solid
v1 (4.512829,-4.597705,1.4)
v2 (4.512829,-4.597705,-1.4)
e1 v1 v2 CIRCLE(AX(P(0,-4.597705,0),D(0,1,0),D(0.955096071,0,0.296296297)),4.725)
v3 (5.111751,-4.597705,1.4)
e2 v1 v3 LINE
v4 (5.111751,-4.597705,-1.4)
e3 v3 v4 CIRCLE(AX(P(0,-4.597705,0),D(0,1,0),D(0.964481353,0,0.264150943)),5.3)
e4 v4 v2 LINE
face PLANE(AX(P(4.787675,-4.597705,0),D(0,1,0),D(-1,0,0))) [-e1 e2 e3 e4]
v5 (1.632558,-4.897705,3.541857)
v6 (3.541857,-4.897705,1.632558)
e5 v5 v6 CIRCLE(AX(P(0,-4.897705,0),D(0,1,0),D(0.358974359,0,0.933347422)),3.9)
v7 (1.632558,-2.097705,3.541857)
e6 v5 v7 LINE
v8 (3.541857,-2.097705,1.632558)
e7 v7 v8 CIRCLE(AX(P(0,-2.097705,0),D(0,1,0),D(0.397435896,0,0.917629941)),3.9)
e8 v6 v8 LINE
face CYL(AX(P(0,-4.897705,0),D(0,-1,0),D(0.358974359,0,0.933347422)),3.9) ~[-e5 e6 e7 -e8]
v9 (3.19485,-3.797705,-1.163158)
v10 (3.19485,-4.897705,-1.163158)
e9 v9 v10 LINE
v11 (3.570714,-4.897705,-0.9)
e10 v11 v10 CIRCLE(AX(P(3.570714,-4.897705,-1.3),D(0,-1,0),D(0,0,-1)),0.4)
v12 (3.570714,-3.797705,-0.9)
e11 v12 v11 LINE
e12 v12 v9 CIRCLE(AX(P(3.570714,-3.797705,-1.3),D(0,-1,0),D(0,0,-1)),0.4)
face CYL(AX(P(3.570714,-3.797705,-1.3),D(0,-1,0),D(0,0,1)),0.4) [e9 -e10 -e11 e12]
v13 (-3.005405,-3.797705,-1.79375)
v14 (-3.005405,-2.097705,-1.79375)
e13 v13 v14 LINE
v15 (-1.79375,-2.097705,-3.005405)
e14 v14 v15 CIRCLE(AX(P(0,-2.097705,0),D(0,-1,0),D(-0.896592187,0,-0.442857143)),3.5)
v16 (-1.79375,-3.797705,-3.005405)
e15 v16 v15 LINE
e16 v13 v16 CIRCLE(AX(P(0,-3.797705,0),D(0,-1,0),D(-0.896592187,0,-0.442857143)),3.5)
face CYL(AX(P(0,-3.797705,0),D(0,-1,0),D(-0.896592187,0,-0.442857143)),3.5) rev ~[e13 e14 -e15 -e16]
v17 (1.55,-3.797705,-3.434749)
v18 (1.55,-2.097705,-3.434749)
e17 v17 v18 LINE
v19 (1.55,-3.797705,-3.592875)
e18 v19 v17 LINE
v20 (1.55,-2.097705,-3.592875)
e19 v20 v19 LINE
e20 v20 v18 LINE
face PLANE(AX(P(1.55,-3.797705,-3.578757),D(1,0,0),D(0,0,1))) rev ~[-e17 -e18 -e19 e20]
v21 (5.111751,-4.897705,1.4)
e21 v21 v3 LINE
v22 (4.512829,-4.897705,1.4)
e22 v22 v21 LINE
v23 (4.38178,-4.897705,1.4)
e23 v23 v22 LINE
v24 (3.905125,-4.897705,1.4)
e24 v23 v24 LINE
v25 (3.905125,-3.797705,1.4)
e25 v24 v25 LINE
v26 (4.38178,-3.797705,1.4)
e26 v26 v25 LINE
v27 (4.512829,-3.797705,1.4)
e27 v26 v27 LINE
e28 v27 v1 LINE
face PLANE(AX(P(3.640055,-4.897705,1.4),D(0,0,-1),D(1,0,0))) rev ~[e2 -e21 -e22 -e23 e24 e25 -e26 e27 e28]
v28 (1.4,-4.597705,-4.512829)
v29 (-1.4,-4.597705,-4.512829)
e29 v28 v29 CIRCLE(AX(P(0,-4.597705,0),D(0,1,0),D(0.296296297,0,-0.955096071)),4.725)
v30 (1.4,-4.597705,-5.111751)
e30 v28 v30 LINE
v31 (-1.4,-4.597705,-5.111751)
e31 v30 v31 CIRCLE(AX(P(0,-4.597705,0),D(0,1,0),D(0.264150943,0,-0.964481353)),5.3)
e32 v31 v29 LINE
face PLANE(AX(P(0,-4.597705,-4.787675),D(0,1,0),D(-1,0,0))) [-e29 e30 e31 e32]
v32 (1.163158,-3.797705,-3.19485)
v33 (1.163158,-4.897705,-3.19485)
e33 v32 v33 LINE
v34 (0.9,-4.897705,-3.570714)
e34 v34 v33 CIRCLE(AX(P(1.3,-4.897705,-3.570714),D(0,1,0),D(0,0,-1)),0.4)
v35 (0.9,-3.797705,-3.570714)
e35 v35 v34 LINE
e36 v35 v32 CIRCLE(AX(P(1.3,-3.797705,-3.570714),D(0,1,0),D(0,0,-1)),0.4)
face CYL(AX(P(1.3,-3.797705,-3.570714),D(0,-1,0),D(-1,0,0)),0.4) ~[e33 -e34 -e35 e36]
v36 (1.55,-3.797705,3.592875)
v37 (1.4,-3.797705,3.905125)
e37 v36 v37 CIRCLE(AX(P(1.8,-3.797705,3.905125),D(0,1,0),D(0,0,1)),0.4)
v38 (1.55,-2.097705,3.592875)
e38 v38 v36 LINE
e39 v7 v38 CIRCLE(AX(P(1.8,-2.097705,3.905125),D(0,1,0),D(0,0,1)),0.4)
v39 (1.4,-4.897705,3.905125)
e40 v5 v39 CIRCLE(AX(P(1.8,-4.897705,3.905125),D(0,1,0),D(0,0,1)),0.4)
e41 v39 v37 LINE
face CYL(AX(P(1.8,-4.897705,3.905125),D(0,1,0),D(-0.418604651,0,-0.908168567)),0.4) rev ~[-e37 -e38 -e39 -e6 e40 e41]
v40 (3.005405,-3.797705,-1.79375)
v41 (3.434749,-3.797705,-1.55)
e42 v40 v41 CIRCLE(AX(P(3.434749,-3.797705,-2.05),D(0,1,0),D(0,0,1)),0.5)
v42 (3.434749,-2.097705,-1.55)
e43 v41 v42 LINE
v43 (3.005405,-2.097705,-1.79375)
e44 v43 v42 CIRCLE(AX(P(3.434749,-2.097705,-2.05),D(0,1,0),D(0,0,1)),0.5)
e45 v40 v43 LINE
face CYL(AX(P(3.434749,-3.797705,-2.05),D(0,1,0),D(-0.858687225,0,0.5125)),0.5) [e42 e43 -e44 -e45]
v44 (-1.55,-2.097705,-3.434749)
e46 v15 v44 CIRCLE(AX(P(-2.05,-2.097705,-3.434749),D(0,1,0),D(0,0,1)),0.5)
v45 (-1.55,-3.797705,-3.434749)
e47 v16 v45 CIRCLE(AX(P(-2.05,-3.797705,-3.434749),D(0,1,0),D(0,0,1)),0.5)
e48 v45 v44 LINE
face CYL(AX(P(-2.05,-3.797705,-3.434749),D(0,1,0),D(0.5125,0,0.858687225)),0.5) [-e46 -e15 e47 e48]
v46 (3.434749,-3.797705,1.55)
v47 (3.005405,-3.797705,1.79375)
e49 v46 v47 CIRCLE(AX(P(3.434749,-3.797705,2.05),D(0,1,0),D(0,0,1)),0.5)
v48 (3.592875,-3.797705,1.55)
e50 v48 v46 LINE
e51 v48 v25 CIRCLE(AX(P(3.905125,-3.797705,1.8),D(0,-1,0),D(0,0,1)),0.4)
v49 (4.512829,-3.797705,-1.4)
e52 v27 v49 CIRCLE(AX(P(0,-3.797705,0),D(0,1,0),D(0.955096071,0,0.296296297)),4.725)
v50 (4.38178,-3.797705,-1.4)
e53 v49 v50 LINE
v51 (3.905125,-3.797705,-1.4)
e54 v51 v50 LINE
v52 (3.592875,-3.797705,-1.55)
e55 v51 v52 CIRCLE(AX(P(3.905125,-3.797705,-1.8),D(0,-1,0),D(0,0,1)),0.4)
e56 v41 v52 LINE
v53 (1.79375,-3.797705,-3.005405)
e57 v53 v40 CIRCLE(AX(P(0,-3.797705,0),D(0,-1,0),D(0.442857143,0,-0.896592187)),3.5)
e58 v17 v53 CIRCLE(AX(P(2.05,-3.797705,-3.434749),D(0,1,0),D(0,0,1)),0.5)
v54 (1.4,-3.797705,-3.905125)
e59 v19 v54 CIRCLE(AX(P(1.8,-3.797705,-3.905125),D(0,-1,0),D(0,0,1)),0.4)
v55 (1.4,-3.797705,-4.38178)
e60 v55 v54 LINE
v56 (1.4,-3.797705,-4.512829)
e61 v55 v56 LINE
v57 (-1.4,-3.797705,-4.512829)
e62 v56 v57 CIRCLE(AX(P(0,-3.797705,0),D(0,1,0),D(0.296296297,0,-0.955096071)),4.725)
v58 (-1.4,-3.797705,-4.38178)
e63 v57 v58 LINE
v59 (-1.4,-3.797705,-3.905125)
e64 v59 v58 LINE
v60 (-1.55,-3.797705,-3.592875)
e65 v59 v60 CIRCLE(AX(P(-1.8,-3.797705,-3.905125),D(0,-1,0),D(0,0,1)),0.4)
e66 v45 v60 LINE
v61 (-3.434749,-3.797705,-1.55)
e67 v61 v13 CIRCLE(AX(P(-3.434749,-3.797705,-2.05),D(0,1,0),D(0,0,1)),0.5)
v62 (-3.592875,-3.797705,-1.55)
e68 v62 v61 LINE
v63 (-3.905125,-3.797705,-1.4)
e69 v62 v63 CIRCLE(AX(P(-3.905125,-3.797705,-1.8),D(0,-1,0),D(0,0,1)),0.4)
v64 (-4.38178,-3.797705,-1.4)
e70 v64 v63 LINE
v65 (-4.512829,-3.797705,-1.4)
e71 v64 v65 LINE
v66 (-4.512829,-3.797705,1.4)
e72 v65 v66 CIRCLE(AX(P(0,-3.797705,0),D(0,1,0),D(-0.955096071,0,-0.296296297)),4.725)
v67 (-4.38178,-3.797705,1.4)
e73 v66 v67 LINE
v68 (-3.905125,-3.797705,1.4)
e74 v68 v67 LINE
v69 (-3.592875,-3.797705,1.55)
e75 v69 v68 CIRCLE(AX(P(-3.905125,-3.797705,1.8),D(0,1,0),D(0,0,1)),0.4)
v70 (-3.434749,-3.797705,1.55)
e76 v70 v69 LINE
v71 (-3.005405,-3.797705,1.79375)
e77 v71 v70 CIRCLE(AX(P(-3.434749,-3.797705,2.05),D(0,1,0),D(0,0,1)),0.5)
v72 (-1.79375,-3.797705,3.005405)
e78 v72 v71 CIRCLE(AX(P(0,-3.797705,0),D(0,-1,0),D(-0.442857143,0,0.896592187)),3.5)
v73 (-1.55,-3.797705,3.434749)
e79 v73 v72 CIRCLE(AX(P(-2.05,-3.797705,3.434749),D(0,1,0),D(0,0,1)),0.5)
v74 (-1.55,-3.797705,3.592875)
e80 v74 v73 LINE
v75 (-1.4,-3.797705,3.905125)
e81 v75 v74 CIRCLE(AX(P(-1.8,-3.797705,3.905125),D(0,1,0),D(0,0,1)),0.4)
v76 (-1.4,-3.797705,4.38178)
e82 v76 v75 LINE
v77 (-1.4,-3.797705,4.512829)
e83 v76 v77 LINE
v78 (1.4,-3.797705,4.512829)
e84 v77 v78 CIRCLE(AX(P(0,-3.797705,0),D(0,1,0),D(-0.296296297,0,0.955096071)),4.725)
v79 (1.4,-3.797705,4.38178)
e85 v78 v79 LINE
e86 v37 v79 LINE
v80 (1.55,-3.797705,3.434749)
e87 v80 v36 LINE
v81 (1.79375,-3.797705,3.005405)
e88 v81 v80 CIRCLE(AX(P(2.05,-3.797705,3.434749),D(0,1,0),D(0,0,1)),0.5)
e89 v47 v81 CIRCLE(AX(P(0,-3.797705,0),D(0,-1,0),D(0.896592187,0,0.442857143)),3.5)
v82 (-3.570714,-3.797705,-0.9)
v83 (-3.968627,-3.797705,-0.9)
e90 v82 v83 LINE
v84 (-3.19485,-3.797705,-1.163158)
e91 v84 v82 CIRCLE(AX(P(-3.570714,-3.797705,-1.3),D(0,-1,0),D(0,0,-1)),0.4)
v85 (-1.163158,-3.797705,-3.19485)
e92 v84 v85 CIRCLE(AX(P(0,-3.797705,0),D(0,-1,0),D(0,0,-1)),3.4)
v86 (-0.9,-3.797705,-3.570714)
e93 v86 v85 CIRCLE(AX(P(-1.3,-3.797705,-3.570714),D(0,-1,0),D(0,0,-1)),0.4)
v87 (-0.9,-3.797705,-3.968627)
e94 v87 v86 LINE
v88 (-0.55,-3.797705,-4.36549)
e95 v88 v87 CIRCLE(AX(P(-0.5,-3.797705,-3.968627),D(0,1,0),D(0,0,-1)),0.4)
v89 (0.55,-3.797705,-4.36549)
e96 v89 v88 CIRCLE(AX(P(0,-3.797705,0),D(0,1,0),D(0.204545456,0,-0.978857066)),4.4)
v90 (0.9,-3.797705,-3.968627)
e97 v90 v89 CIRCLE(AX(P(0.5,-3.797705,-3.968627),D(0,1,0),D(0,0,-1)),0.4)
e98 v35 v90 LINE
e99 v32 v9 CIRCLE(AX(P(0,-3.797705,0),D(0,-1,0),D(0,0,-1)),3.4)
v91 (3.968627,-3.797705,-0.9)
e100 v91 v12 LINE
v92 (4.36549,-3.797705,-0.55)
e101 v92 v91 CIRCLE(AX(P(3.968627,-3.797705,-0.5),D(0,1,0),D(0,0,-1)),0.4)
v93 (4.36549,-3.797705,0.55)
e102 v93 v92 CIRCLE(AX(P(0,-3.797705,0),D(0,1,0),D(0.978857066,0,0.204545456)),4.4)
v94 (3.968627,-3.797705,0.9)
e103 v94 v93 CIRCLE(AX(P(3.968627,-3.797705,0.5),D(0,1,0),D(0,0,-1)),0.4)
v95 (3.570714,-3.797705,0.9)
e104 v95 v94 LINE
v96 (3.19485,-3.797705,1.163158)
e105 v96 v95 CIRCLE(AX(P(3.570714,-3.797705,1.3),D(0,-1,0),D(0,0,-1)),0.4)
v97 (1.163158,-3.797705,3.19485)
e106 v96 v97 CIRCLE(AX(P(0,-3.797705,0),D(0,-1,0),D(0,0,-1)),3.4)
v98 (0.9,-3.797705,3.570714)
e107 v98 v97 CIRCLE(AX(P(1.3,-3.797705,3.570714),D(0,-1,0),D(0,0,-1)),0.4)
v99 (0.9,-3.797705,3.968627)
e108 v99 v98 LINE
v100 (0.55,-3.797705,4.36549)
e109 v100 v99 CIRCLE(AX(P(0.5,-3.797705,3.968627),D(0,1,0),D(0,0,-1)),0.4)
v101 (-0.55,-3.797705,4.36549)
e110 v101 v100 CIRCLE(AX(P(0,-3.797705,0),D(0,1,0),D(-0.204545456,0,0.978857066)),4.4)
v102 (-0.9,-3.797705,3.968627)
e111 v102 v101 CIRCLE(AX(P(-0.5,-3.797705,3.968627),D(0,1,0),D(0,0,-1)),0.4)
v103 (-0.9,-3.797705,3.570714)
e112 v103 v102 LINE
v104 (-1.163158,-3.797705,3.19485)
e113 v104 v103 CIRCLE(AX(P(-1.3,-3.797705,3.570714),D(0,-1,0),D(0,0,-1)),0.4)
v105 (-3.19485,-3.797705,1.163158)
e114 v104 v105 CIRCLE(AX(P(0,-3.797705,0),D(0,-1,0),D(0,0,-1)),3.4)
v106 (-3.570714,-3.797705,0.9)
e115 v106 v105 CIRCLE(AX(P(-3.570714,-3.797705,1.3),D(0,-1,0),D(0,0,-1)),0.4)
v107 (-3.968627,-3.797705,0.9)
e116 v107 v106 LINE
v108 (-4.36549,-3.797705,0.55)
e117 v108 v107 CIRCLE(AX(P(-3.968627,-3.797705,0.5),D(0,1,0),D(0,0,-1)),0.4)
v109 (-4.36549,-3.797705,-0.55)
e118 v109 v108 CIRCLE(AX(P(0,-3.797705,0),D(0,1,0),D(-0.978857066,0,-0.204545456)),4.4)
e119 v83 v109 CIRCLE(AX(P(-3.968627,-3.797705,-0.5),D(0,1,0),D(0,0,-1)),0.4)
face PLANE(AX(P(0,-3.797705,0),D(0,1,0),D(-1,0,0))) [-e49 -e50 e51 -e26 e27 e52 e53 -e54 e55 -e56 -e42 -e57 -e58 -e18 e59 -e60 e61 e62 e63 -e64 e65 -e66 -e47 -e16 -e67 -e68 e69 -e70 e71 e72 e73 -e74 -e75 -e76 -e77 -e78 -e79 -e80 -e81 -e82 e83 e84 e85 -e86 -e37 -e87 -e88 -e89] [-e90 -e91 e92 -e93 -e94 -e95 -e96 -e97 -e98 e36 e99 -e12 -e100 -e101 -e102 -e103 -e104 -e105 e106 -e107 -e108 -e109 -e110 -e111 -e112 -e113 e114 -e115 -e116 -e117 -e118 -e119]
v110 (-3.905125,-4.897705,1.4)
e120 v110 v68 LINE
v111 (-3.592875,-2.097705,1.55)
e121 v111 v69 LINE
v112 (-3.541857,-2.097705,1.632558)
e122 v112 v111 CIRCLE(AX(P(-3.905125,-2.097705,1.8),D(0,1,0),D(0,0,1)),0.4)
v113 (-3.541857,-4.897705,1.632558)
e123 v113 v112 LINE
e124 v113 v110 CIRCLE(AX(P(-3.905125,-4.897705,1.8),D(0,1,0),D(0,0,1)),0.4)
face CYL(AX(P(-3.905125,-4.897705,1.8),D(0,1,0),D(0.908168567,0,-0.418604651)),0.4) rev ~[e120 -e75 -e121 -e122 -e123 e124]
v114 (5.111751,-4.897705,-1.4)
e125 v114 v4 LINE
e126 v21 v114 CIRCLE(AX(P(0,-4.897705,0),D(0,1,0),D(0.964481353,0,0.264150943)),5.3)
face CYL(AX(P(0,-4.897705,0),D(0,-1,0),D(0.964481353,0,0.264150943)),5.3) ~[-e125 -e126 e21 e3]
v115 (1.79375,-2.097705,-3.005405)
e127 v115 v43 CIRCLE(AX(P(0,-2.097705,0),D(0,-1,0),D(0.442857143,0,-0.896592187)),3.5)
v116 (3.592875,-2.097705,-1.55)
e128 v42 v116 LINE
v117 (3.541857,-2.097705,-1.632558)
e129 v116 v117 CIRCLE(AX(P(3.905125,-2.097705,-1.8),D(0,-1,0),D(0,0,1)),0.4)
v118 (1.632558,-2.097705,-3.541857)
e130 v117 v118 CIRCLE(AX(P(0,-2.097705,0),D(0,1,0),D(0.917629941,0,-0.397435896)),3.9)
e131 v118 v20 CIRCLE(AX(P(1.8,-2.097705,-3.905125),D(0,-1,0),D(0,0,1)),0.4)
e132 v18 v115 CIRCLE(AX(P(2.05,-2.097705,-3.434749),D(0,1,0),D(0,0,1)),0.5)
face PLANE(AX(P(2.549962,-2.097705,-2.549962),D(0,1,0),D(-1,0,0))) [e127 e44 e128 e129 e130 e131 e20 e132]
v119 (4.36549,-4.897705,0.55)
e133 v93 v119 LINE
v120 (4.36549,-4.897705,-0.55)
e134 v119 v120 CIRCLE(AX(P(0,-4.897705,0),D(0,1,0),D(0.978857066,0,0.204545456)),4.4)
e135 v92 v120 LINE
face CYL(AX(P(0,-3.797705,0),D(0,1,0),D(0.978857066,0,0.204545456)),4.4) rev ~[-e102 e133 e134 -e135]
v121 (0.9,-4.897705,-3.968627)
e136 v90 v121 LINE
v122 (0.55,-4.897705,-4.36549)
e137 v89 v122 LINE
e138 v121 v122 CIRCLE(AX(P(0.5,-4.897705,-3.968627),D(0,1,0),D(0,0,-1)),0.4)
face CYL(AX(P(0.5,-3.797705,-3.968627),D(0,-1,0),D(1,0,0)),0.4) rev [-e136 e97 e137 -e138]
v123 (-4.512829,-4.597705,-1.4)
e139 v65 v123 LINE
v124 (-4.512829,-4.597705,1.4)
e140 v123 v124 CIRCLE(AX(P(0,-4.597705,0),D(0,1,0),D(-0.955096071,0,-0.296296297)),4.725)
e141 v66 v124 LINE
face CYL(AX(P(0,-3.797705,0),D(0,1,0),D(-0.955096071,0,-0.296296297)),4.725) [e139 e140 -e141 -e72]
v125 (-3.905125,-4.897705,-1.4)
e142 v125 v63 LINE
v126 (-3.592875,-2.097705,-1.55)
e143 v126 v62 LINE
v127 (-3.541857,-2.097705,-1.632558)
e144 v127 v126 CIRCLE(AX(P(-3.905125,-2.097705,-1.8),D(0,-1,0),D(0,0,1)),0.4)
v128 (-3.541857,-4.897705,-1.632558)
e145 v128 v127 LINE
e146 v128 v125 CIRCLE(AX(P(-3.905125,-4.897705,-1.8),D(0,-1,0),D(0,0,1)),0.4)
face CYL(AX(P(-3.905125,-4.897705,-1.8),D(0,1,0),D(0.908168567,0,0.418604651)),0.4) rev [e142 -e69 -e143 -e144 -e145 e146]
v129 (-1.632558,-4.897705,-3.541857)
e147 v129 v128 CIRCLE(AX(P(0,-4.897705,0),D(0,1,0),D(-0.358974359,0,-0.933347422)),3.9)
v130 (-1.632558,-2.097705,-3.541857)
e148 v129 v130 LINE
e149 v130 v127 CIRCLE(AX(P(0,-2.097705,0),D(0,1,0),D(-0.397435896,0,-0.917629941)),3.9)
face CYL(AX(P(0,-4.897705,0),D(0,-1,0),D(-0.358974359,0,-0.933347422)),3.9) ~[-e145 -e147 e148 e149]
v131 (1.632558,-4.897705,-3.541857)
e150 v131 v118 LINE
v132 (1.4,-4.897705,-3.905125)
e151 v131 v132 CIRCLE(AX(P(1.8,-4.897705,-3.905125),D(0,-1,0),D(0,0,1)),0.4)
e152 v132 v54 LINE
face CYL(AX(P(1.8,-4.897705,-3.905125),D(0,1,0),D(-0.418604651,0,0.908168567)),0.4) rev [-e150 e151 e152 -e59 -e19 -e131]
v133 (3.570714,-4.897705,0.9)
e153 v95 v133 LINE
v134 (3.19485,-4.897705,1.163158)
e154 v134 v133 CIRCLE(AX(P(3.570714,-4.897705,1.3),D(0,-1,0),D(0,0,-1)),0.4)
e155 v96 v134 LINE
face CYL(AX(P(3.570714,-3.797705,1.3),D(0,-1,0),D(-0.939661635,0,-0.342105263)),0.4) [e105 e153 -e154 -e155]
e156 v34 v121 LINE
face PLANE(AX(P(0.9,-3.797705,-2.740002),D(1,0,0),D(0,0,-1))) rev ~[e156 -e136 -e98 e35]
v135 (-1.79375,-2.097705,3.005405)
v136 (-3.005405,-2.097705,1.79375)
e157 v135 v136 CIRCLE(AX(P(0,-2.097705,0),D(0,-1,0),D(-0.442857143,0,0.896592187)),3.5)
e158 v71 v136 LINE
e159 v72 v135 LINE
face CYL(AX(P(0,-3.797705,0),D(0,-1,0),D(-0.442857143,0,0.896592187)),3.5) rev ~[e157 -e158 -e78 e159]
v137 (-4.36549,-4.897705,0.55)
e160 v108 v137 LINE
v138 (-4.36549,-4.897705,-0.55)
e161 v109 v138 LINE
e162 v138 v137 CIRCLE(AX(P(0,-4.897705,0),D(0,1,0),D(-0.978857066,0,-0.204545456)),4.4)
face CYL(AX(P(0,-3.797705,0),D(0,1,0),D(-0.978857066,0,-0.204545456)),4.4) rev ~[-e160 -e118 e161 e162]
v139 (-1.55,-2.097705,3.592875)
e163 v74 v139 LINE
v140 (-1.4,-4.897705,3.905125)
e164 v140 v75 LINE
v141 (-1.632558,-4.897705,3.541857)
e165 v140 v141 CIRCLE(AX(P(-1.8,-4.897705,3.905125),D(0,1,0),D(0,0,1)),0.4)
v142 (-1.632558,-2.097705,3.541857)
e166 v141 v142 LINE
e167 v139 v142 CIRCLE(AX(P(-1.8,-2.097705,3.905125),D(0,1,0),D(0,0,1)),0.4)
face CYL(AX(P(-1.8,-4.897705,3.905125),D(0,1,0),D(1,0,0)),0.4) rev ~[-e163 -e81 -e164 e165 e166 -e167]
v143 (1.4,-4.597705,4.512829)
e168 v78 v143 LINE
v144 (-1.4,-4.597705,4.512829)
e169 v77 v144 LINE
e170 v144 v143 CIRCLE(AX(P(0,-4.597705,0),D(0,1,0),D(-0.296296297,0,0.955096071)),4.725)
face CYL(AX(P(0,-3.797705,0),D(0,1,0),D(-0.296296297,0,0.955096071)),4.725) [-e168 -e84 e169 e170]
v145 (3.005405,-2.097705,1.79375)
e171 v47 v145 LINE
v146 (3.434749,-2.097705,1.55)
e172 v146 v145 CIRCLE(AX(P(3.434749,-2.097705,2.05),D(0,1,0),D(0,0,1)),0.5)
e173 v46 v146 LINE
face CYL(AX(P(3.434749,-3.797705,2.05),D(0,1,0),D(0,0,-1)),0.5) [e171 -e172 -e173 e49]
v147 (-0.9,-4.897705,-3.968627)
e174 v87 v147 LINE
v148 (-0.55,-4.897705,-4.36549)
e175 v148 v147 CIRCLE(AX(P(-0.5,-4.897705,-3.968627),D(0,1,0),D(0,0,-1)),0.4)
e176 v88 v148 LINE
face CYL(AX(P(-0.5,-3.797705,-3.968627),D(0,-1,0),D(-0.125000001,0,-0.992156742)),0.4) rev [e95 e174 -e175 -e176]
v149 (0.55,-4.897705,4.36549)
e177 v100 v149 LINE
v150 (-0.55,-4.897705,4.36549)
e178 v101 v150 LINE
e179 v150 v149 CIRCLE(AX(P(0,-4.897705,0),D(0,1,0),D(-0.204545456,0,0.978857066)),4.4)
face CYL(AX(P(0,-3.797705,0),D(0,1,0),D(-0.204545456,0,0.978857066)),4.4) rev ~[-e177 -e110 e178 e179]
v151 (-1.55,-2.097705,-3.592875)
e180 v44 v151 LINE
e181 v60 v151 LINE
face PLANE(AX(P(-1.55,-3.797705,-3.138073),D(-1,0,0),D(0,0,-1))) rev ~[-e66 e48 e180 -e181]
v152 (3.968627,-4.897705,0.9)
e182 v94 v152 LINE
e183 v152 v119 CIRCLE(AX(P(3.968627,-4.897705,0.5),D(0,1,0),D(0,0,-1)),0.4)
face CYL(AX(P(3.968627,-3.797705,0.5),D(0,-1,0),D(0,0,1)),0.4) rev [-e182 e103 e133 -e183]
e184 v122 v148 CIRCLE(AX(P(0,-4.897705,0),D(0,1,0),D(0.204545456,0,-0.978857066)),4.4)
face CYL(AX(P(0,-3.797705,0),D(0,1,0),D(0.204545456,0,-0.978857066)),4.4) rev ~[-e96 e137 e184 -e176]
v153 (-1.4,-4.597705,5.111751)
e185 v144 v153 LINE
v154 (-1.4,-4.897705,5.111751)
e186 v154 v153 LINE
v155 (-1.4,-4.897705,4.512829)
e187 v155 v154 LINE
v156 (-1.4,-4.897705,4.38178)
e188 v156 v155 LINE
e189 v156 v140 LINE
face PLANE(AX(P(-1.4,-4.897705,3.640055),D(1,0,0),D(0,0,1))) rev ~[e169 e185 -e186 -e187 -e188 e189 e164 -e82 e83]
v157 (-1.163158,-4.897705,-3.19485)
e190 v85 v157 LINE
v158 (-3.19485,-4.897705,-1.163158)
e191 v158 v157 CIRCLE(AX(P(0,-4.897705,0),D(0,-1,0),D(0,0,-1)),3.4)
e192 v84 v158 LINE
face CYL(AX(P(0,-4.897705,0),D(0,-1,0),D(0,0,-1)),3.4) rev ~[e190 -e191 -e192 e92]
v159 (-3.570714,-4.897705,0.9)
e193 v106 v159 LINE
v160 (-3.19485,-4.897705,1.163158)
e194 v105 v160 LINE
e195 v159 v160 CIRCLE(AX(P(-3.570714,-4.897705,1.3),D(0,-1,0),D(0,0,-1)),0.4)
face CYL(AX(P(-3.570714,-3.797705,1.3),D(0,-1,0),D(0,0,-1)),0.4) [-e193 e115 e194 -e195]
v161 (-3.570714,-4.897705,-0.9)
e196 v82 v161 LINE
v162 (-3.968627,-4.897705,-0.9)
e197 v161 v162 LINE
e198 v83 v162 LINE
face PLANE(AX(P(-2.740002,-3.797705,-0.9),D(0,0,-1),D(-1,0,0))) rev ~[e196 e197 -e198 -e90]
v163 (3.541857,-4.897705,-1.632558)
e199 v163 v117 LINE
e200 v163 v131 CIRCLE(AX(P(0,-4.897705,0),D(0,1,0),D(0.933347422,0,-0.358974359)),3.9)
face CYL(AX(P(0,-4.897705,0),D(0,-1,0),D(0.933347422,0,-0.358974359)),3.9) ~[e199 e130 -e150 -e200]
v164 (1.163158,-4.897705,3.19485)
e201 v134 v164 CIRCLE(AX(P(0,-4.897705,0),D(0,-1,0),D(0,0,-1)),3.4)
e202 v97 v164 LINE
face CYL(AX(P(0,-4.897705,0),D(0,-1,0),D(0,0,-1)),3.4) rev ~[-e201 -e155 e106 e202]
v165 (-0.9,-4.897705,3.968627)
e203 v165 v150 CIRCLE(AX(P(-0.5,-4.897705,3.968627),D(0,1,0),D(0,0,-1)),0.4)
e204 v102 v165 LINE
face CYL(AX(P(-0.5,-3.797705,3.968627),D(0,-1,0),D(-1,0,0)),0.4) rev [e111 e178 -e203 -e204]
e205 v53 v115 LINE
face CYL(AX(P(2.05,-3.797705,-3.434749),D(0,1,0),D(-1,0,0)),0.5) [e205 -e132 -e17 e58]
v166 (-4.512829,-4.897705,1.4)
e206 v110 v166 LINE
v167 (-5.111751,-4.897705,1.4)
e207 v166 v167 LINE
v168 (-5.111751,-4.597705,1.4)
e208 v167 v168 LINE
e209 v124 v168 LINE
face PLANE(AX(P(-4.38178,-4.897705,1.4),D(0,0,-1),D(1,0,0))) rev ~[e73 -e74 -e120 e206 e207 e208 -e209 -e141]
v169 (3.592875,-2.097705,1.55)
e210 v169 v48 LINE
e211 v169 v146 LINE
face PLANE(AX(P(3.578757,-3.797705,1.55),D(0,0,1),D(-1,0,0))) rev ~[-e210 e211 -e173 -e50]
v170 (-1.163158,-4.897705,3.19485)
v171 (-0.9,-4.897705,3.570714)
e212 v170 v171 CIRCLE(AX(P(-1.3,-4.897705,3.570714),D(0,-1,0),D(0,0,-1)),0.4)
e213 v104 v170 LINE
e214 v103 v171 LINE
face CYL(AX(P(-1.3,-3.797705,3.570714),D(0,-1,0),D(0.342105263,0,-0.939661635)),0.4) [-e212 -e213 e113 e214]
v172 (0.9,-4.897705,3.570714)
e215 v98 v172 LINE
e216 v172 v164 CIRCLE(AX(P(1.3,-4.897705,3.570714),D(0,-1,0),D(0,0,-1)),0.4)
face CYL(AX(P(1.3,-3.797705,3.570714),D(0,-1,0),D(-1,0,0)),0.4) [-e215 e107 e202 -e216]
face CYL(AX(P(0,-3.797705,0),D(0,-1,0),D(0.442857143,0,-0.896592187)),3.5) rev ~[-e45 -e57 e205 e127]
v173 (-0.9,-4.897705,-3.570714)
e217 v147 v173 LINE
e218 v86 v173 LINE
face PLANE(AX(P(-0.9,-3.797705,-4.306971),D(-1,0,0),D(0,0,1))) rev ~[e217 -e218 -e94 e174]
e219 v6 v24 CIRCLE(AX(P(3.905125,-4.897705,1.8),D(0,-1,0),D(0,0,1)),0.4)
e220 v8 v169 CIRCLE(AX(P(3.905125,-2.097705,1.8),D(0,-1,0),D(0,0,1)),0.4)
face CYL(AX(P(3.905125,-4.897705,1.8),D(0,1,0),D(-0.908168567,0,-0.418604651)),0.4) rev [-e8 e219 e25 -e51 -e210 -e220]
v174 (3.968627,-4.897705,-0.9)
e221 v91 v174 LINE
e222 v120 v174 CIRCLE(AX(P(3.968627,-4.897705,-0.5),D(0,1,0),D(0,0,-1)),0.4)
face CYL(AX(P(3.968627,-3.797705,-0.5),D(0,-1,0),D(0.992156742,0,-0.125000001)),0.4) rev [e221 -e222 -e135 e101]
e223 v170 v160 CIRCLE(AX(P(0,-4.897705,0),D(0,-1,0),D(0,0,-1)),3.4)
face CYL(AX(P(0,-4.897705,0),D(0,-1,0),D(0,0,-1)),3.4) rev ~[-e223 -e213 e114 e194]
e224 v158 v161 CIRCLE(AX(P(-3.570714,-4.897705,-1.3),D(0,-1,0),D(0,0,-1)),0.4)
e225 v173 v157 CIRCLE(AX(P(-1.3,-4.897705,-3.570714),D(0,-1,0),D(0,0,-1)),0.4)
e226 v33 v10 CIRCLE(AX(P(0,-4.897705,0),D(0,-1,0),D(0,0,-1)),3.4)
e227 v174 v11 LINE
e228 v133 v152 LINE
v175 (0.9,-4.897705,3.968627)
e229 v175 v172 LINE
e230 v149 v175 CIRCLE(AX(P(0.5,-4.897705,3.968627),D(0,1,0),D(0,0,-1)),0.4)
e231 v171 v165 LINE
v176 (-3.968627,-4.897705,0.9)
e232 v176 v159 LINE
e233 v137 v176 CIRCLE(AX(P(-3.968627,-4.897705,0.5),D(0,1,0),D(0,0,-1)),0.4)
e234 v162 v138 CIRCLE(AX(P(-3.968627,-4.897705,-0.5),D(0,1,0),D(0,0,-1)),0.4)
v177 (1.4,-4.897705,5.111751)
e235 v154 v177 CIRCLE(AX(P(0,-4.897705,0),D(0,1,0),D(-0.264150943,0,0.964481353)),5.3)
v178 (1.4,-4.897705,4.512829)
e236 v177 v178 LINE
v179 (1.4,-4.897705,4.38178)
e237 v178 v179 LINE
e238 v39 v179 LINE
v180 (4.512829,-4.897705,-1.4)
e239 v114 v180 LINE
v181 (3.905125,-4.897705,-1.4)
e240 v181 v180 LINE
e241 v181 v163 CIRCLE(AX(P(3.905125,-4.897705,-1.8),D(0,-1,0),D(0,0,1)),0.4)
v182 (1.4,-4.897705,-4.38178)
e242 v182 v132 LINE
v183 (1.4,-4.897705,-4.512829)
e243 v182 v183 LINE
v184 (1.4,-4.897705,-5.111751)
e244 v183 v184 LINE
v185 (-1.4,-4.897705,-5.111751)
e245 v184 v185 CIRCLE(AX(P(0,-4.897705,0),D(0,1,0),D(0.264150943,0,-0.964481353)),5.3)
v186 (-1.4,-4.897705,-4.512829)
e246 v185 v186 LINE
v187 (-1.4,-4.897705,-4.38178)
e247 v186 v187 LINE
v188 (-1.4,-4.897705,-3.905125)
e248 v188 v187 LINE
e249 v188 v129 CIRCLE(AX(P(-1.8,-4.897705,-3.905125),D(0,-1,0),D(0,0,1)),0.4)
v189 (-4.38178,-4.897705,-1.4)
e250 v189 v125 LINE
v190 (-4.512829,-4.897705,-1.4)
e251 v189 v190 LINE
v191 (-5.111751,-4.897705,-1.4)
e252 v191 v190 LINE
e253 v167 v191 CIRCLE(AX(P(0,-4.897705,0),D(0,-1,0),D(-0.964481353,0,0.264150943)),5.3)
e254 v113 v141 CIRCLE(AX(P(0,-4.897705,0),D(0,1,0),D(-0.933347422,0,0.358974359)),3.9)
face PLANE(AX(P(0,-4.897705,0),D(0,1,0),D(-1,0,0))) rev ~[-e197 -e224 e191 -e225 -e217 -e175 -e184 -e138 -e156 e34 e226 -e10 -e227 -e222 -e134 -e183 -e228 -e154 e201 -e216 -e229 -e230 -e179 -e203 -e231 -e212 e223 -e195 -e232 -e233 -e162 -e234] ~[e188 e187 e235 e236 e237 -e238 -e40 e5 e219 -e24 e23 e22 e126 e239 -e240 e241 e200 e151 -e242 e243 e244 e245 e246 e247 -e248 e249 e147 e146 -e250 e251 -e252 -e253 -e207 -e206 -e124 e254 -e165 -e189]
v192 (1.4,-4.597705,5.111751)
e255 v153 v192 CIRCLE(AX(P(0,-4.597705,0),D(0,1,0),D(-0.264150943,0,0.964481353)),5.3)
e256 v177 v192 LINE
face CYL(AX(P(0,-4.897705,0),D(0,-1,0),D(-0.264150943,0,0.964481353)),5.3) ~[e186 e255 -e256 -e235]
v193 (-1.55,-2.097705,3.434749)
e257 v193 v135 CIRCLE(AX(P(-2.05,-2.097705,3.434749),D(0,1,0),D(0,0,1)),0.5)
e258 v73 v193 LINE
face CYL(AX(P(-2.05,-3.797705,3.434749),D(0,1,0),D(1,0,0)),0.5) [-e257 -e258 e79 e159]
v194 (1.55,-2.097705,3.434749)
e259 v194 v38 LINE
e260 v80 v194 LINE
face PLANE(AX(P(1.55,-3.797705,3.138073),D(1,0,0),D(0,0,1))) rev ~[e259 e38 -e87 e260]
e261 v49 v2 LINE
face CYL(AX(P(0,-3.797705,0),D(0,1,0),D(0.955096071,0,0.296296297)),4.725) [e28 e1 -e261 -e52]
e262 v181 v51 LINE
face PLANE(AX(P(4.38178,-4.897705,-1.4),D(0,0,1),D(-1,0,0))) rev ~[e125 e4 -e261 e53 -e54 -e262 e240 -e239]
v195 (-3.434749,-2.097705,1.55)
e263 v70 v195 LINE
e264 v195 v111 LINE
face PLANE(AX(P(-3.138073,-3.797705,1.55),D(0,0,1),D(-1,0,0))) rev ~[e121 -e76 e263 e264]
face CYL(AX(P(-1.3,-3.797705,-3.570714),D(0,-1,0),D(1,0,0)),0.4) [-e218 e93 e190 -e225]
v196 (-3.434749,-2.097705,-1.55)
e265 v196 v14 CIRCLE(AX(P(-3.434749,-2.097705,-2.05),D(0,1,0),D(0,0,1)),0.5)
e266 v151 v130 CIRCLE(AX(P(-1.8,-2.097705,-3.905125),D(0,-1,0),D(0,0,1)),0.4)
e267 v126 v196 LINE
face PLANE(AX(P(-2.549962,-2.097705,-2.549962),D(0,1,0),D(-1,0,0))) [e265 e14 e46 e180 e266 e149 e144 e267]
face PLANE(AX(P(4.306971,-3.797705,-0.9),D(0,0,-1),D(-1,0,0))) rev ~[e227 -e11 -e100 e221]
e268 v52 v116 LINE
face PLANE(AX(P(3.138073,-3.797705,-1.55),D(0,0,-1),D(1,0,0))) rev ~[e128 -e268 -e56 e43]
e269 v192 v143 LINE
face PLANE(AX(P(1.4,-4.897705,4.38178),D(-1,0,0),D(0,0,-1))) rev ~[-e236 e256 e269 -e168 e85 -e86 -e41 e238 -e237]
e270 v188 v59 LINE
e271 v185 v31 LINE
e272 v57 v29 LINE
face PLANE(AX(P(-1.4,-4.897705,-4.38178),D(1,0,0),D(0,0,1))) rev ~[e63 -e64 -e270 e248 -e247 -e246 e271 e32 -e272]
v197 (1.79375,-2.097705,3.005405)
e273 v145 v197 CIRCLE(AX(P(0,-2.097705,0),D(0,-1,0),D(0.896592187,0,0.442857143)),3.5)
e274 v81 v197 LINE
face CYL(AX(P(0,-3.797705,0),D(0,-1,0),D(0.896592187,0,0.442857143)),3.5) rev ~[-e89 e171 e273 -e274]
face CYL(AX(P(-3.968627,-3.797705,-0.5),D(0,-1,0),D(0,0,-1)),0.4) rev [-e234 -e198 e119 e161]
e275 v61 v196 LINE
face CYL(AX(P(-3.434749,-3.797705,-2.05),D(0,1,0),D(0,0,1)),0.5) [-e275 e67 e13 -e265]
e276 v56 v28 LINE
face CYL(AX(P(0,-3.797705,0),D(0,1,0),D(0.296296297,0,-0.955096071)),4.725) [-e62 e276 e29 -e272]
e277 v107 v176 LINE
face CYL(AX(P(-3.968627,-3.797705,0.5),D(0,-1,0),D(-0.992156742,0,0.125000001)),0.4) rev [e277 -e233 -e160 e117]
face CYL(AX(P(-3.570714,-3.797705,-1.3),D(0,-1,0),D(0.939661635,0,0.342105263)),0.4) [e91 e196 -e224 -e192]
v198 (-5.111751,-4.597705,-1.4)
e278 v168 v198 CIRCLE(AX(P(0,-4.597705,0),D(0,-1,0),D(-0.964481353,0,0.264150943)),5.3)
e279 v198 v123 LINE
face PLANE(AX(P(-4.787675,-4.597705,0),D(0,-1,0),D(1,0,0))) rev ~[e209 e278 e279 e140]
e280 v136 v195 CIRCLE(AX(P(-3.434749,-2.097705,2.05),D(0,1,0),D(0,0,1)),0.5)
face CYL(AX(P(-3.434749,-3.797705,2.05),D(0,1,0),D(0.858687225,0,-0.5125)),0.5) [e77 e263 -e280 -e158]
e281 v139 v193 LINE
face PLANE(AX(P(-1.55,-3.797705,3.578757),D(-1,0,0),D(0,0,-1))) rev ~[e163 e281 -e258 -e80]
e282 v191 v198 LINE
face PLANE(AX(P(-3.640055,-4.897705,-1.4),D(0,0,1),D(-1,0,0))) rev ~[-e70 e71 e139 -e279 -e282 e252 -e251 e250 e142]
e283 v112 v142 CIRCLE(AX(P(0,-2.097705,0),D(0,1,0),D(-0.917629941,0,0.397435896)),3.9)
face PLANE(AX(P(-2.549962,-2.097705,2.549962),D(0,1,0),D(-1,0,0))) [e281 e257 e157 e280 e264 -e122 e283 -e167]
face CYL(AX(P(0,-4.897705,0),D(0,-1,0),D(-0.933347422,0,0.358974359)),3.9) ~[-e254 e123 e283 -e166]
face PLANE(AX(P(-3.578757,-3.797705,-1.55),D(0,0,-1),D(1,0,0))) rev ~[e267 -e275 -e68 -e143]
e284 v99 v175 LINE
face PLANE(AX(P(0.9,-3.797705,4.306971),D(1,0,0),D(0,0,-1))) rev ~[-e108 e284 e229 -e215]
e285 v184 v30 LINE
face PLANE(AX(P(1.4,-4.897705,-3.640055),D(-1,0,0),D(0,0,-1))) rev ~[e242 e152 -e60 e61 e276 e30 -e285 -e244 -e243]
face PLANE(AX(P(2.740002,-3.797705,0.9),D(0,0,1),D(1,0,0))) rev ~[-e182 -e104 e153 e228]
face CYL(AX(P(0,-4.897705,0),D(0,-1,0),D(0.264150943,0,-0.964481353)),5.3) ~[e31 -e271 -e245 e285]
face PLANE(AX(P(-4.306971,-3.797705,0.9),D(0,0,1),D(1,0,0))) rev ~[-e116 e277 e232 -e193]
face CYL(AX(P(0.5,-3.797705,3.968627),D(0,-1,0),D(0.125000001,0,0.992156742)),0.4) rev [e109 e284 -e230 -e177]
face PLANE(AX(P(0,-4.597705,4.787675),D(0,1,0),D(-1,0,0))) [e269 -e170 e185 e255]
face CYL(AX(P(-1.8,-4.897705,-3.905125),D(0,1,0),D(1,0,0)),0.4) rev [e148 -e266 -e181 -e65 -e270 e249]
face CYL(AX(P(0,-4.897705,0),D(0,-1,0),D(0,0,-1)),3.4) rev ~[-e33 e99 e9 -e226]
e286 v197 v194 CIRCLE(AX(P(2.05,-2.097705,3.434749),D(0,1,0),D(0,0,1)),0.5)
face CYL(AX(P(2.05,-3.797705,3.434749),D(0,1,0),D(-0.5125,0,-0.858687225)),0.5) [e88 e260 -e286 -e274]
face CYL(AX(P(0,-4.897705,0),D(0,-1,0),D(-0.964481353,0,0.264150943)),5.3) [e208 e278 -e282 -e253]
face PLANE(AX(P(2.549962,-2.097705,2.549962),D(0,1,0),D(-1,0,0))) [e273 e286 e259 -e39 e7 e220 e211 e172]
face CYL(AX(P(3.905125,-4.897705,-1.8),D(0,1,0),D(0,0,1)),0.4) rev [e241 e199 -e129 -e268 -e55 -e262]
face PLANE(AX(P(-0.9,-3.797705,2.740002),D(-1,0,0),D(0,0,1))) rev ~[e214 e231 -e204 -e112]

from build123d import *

# Parameters (mm, degrees)
SKETCH_1_R          = 3.4
EXTRUDE_1_DEPTH     = 1.1
EXTRUDE_START       = -0.362295
EXTRUDE_2_DEPTH     = 1.1
EXTRUDE_START_2     = -1.1
EXTRUDE_3_DEPTH     = 0.3
EXTRUDE_START_3     = 1.1
EXTRUDE_4_DEPTH     = 1.7
FILLET_2_R          = 0.5
FILLET_3_R          = 0.4
CUT_EXTRUDE_1_DEPTH = 8.685701009
FILLET_5_R          = 0.4


with BuildPart() as part:
    # 草图1 → 凸台-拉伸1 (new body)
    with BuildSketch(Plane.XZ.offset(4.897705057)):
        with BuildLine():
            Line((1.4, 4.38178046), (1.4, 3.640054945))
            ThreePointArc((1.4, 3.640054945), (2.757716447, 2.757716447), (3.640054945, 1.4))
            Line((3.640054945, 1.4), (4.38178046, 1.4))
            ThreePointArc((4.38178046, 1.4), (4.6, 0), (4.38178046, -1.4))
            Line((4.38178046, -1.4), (3.640054945, -1.4))
            ThreePointArc((3.640054945, -1.4), (2.757716447, -2.757716447), (1.4, -3.640054945))
            Line((1.4, -3.640054945), (1.4, -4.38178046))
            ThreePointArc((1.4, -4.38178046), (0, -4.6), (-1.4, -4.38178046))
            Line((-1.4, -4.38178046), (-1.4, -3.640054945))
            ThreePointArc((-1.4, -3.640054945), (-2.757716447, -2.757716447), (-3.640054945, -1.4))
            Line((-3.640054945, -1.4), (-4.38178046, -1.4))
            ThreePointArc((-4.38178046, -1.4), (-4.6, 0), (-4.38178046, 1.4))
            Line((-4.38178046, 1.4), (-3.640054945, 1.4))
            ThreePointArc((-3.640054945, 1.4), (-2.757716447, 2.757716447), (-1.4, 3.640054945))
            Line((-1.4, 3.640054945), (-1.4, 4.38178046))
            ThreePointArc((-1.4, 4.38178046), (0, 4.6), (1.4, 4.38178046))
        make_face()
        with Locations(Location((0, 0, 0), (0, 0, 270))):
            Circle(SKETCH_1_R, mode=Mode.SUBTRACT)
    extrude(amount=-EXTRUDE_1_DEPTH)

    # 草图2 → 凸台-拉伸2 (add)
    with BuildSketch(Plane.XZ.offset(4.16).offset(EXTRUDE_START)):
        with BuildLine():
            Line((4.276680956, 1.4), (4.512828935, 1.4))
            ThreePointArc((4.512828935, 1.4), (4.725, 0), (4.512828935, -1.4))
            Line((4.512828935, -1.4), (4.276680956, -1.4))
            ThreePointArc((4.276680956, -1.4), (4.5, 0), (4.276680956, 1.4))
        make_face()
        with BuildLine():
            Line((1.4, -4.276680956), (1.4, -4.512828935))
            ThreePointArc((1.4, -4.512828935), (0, -4.725), (-1.4, -4.512828935))
            Line((-1.4, -4.512828935), (-1.4, -4.276680956))
            ThreePointArc((-1.4, -4.276680956), (0, -4.5), (1.4, -4.276680956))
        make_face()
        with BuildLine():
            Line((-4.276680956, -1.4), (-4.512828935, -1.4))
            ThreePointArc((-4.512828935, -1.4), (-4.725, 0), (-4.512828935, 1.4))
            Line((-4.512828935, 1.4), (-4.276680956, 1.4))
            ThreePointArc((-4.276680956, 1.4), (-4.5, 0), (-4.276680956, -1.4))
        make_face()
        with BuildLine():
            Line((-1.4, 4.276680956), (-1.4, 4.512828935))
            ThreePointArc((-1.4, 4.512828935), (0, 4.725), (1.4, 4.512828935))
            Line((1.4, 4.512828935), (1.4, 4.276680956))
            ThreePointArc((1.4, 4.276680956), (0, 4.5), (-1.4, 4.276680956))
        make_face()
    extrude(amount=EXTRUDE_2_DEPTH)

    # 草图3 → 凸台-拉伸3 (add)
    with BuildSketch(Plane(origin=(0, -3.797705057, 0), x_dir=(-1, 0, 0), z_dir=(0, 1, 0)).offset(EXTRUDE_START_2)):
        with BuildLine():
            Line((4.276680956, 1.4), (5.111751168, 1.4))
            ThreePointArc((5.111751168, 1.4), (5.3, 0), (5.111751168, -1.4))
            Line((5.111751168, -1.4), (4.276680956, -1.4))
            ThreePointArc((4.276680956, -1.4), (4.5, 0), (4.276680956, 1.4))
        make_face()
        with BuildLine():
            Line((-1.4, -4.276680956), (-1.4, -5.111751168))
            ThreePointArc((-1.4, -5.111751168), (0, -5.3), (1.4, -5.111751168))
            Line((1.4, -5.111751168), (1.4, -4.276680956))
            ThreePointArc((1.4, -4.276680956), (0, -4.5), (-1.4, -4.276680956))
        make_face()
        with BuildLine():
            Line((-4.276680956, 1.4), (-5.111751168, 1.4))
            ThreePointArc((-5.111751168, 1.4), (-5.3, 0), (-5.111751168, -1.4))
            Line((-5.111751168, -1.4), (-4.276680956, -1.4))
            ThreePointArc((-4.276680956, -1.4), (-4.5, 0), (-4.276680956, 1.4))
        make_face()
        with BuildLine():
            Line((1.4, 4.276680956), (1.4, 5.111751168))
            ThreePointArc((1.4, 5.111751168), (0, 5.3), (-1.4, 5.111751168))
            Line((-1.4, 5.111751168), (-1.4, 4.276680956))
            ThreePointArc((-1.4, 4.276680956), (0, 4.5), (1.4, 4.276680956))
        make_face()
    extrude(amount=EXTRUDE_3_DEPTH)

    # 草图4 → 凸台-拉伸4 (add)
    with BuildSketch(Plane(origin=(0, -4.897705057, 0), x_dir=(-1, 0, 0), z_dir=(0, 1, 0)).offset(EXTRUDE_START_3)):
        with BuildLine():
            Line((1.55, 3.578756767), (1.55, 3.138072657))
            ThreePointArc((1.55, 3.138072657), (2.474873734, 2.474873734), (3.138072657, 1.55))
            Line((3.138072657, 1.55), (3.578756767, 1.55))
            ThreePointArc((3.578756767, 1.55), (2.757716447, 2.757716447), (1.55, 3.578756767))
        make_face()
        with BuildLine():
            Line((1.55, -3.138072657), (1.55, -3.578756767))
            ThreePointArc((1.55, -3.578756767), (2.757716447, -2.757716447), (3.578756767, -1.55))
            Line((3.578756767, -1.55), (3.138072657, -1.55))
            ThreePointArc((3.138072657, -1.55), (2.474873734, -2.474873734), (1.55, -3.138072657))
        make_face()
        with BuildLine():
            Line((-3.138072657, -1.55), (-3.578756767, -1.55))
            ThreePointArc((-3.578756767, -1.55), (-2.757716447, -2.757716447), (-1.55, -3.578756767))
            Line((-1.55, -3.578756767), (-1.55, -3.138072657))
            ThreePointArc((-1.55, -3.138072657), (-2.474873734, -2.474873734), (-3.138072657, -1.55))
        make_face()
        with BuildLine():
            Line((-1.55, 3.138072657), (-1.55, 3.578756767))
            ThreePointArc((-1.55, 3.578756767), (-2.757716447, 2.757716447), (-3.578756767, 1.55))
            Line((-3.578756767, 1.55), (-3.138072657, 1.55))
            ThreePointArc((-3.138072657, 1.55), (-2.474873734, 2.474873734), (-1.55, 3.138072657))
        make_face()
    extrude(amount=EXTRUDE_4_DEPTH)

    # 圆角2
    fillet_2_edges = [part.edges().sort_by_distance(p)[0] for p in [
        (1.55, -2.947705057, 3.138072657),
        (3.138072657, -2.947705057, 1.55),
        (3.138072657, -2.947705057, -1.55),
        (1.55, -2.947705057, -3.138072657),
        (-1.55, -2.947705057, -3.138072657),
        (-3.138072657, -2.947705057, -1.55),
        (-3.138072657, -2.947705057, 1.55),
        (-1.55, -2.947705057, 3.138072657),
    ]]
    fillet(fillet_2_edges, radius=FILLET_2_R)

    # 圆角3
    fillet_3_edges = [part.edges().sort_by_distance(p)[0] for p in [
        (-3.640054945, -4.347705057, 1.4),
        (-3.640054945, -4.347705057, -1.4),
        (-1.4, -4.347705057, -3.640054945),
        (1.4, -4.347705057, -3.640054945),
        (3.640054945, -4.347705057, -1.4),
        (3.640054945, -4.347705057, 1.4),
        (1.4, -4.347705057, 3.640054945),
        (-1.4, -4.347705057, 3.640054945),
    ]]
    fillet(fillet_3_edges, radius=FILLET_3_R)

    # 草图5 → 切除-拉伸1 (cut, through all)
    with BuildSketch(Plane(origin=(0, -3.797705057, 0), x_dir=(-1, 0, 0), z_dir=(0, 1, 0))):
        with BuildLine():
            Line((4.306971093, 0.9), (2.740001738, 0.9))
            Line((2.740001738, 0.9), (2.740001738, -0.9))
            Line((2.740001738, -0.9), (4.306971093, -0.9))
            ThreePointArc((4.306971093, -0.9), (4.4, 0), (4.306971093, 0.9))
        make_face()
        with BuildLine():
            Line((0.9, -4.306971093), (0.9, -2.740001738))
            Line((0.9, -2.740001738), (-0.9, -2.740001738))
            Line((-0.9, -2.740001738), (-0.9, -4.306971093))
            ThreePointArc((-0.9, -4.306971093), (0, -4.4), (0.9, -4.306971093))
        make_face()
        with BuildLine():
            Line((-4.306971093, -0.9), (-2.740001738, -0.9))
            Line((-2.740001738, -0.9), (-2.740001738, 0.9))
            Line((-2.740001738, 0.9), (-4.306971093, 0.9))
            ThreePointArc((-4.306971093, 0.9), (-4.4, 0), (-4.306971093, -0.9))
        make_face()
        with BuildLine():
            Line((-0.9, 4.306971093), (-0.9, 2.740001738))
            Line((-0.9, 2.740001738), (0.9, 2.740001738))
            Line((0.9, 2.740001738), (0.9, 4.306971093))
            ThreePointArc((0.9, 4.306971093), (0, 4.4), (-0.9, 4.306971093))
        make_face()
    extrude(amount=-CUT_EXTRUDE_1_DEPTH, mode=Mode.SUBTRACT)

    # 圆角5
    fillet_5_edges = [part.edges().sort_by_distance(p)[0] for p in [
        (0.9, -4.347705057, 3.278719262),
        (-0.9, -4.347705057, 3.278719262),
        (3.278719262, -4.347705057, -0.9),
        (3.278719262, -4.347705057, 0.9),
        (-0.9, -4.347705057, -3.278719262),
        (0.9, -4.347705057, -3.278719262),
        (-3.278719262, -4.347705057, 0.9),
        (-3.278719262, -4.347705057, -0.9),
        (-4.306971093, -4.347705057, -0.9),
        (-4.306971093, -4.347705057, 0.9),
        (0.9, -4.347705057, -4.306971093),
        (-0.9, -4.347705057, -4.306971093),
        (4.306971093, -4.347705057, 0.9),
        (4.306971093, -4.347705057, -0.9),
        (-0.9, -4.347705057, 4.306971093),
        (0.9, -4.347705057, 4.306971093),
    ]]
    fillet(fillet_5_edges, radius=FILLET_5_R)


solid = part.part
